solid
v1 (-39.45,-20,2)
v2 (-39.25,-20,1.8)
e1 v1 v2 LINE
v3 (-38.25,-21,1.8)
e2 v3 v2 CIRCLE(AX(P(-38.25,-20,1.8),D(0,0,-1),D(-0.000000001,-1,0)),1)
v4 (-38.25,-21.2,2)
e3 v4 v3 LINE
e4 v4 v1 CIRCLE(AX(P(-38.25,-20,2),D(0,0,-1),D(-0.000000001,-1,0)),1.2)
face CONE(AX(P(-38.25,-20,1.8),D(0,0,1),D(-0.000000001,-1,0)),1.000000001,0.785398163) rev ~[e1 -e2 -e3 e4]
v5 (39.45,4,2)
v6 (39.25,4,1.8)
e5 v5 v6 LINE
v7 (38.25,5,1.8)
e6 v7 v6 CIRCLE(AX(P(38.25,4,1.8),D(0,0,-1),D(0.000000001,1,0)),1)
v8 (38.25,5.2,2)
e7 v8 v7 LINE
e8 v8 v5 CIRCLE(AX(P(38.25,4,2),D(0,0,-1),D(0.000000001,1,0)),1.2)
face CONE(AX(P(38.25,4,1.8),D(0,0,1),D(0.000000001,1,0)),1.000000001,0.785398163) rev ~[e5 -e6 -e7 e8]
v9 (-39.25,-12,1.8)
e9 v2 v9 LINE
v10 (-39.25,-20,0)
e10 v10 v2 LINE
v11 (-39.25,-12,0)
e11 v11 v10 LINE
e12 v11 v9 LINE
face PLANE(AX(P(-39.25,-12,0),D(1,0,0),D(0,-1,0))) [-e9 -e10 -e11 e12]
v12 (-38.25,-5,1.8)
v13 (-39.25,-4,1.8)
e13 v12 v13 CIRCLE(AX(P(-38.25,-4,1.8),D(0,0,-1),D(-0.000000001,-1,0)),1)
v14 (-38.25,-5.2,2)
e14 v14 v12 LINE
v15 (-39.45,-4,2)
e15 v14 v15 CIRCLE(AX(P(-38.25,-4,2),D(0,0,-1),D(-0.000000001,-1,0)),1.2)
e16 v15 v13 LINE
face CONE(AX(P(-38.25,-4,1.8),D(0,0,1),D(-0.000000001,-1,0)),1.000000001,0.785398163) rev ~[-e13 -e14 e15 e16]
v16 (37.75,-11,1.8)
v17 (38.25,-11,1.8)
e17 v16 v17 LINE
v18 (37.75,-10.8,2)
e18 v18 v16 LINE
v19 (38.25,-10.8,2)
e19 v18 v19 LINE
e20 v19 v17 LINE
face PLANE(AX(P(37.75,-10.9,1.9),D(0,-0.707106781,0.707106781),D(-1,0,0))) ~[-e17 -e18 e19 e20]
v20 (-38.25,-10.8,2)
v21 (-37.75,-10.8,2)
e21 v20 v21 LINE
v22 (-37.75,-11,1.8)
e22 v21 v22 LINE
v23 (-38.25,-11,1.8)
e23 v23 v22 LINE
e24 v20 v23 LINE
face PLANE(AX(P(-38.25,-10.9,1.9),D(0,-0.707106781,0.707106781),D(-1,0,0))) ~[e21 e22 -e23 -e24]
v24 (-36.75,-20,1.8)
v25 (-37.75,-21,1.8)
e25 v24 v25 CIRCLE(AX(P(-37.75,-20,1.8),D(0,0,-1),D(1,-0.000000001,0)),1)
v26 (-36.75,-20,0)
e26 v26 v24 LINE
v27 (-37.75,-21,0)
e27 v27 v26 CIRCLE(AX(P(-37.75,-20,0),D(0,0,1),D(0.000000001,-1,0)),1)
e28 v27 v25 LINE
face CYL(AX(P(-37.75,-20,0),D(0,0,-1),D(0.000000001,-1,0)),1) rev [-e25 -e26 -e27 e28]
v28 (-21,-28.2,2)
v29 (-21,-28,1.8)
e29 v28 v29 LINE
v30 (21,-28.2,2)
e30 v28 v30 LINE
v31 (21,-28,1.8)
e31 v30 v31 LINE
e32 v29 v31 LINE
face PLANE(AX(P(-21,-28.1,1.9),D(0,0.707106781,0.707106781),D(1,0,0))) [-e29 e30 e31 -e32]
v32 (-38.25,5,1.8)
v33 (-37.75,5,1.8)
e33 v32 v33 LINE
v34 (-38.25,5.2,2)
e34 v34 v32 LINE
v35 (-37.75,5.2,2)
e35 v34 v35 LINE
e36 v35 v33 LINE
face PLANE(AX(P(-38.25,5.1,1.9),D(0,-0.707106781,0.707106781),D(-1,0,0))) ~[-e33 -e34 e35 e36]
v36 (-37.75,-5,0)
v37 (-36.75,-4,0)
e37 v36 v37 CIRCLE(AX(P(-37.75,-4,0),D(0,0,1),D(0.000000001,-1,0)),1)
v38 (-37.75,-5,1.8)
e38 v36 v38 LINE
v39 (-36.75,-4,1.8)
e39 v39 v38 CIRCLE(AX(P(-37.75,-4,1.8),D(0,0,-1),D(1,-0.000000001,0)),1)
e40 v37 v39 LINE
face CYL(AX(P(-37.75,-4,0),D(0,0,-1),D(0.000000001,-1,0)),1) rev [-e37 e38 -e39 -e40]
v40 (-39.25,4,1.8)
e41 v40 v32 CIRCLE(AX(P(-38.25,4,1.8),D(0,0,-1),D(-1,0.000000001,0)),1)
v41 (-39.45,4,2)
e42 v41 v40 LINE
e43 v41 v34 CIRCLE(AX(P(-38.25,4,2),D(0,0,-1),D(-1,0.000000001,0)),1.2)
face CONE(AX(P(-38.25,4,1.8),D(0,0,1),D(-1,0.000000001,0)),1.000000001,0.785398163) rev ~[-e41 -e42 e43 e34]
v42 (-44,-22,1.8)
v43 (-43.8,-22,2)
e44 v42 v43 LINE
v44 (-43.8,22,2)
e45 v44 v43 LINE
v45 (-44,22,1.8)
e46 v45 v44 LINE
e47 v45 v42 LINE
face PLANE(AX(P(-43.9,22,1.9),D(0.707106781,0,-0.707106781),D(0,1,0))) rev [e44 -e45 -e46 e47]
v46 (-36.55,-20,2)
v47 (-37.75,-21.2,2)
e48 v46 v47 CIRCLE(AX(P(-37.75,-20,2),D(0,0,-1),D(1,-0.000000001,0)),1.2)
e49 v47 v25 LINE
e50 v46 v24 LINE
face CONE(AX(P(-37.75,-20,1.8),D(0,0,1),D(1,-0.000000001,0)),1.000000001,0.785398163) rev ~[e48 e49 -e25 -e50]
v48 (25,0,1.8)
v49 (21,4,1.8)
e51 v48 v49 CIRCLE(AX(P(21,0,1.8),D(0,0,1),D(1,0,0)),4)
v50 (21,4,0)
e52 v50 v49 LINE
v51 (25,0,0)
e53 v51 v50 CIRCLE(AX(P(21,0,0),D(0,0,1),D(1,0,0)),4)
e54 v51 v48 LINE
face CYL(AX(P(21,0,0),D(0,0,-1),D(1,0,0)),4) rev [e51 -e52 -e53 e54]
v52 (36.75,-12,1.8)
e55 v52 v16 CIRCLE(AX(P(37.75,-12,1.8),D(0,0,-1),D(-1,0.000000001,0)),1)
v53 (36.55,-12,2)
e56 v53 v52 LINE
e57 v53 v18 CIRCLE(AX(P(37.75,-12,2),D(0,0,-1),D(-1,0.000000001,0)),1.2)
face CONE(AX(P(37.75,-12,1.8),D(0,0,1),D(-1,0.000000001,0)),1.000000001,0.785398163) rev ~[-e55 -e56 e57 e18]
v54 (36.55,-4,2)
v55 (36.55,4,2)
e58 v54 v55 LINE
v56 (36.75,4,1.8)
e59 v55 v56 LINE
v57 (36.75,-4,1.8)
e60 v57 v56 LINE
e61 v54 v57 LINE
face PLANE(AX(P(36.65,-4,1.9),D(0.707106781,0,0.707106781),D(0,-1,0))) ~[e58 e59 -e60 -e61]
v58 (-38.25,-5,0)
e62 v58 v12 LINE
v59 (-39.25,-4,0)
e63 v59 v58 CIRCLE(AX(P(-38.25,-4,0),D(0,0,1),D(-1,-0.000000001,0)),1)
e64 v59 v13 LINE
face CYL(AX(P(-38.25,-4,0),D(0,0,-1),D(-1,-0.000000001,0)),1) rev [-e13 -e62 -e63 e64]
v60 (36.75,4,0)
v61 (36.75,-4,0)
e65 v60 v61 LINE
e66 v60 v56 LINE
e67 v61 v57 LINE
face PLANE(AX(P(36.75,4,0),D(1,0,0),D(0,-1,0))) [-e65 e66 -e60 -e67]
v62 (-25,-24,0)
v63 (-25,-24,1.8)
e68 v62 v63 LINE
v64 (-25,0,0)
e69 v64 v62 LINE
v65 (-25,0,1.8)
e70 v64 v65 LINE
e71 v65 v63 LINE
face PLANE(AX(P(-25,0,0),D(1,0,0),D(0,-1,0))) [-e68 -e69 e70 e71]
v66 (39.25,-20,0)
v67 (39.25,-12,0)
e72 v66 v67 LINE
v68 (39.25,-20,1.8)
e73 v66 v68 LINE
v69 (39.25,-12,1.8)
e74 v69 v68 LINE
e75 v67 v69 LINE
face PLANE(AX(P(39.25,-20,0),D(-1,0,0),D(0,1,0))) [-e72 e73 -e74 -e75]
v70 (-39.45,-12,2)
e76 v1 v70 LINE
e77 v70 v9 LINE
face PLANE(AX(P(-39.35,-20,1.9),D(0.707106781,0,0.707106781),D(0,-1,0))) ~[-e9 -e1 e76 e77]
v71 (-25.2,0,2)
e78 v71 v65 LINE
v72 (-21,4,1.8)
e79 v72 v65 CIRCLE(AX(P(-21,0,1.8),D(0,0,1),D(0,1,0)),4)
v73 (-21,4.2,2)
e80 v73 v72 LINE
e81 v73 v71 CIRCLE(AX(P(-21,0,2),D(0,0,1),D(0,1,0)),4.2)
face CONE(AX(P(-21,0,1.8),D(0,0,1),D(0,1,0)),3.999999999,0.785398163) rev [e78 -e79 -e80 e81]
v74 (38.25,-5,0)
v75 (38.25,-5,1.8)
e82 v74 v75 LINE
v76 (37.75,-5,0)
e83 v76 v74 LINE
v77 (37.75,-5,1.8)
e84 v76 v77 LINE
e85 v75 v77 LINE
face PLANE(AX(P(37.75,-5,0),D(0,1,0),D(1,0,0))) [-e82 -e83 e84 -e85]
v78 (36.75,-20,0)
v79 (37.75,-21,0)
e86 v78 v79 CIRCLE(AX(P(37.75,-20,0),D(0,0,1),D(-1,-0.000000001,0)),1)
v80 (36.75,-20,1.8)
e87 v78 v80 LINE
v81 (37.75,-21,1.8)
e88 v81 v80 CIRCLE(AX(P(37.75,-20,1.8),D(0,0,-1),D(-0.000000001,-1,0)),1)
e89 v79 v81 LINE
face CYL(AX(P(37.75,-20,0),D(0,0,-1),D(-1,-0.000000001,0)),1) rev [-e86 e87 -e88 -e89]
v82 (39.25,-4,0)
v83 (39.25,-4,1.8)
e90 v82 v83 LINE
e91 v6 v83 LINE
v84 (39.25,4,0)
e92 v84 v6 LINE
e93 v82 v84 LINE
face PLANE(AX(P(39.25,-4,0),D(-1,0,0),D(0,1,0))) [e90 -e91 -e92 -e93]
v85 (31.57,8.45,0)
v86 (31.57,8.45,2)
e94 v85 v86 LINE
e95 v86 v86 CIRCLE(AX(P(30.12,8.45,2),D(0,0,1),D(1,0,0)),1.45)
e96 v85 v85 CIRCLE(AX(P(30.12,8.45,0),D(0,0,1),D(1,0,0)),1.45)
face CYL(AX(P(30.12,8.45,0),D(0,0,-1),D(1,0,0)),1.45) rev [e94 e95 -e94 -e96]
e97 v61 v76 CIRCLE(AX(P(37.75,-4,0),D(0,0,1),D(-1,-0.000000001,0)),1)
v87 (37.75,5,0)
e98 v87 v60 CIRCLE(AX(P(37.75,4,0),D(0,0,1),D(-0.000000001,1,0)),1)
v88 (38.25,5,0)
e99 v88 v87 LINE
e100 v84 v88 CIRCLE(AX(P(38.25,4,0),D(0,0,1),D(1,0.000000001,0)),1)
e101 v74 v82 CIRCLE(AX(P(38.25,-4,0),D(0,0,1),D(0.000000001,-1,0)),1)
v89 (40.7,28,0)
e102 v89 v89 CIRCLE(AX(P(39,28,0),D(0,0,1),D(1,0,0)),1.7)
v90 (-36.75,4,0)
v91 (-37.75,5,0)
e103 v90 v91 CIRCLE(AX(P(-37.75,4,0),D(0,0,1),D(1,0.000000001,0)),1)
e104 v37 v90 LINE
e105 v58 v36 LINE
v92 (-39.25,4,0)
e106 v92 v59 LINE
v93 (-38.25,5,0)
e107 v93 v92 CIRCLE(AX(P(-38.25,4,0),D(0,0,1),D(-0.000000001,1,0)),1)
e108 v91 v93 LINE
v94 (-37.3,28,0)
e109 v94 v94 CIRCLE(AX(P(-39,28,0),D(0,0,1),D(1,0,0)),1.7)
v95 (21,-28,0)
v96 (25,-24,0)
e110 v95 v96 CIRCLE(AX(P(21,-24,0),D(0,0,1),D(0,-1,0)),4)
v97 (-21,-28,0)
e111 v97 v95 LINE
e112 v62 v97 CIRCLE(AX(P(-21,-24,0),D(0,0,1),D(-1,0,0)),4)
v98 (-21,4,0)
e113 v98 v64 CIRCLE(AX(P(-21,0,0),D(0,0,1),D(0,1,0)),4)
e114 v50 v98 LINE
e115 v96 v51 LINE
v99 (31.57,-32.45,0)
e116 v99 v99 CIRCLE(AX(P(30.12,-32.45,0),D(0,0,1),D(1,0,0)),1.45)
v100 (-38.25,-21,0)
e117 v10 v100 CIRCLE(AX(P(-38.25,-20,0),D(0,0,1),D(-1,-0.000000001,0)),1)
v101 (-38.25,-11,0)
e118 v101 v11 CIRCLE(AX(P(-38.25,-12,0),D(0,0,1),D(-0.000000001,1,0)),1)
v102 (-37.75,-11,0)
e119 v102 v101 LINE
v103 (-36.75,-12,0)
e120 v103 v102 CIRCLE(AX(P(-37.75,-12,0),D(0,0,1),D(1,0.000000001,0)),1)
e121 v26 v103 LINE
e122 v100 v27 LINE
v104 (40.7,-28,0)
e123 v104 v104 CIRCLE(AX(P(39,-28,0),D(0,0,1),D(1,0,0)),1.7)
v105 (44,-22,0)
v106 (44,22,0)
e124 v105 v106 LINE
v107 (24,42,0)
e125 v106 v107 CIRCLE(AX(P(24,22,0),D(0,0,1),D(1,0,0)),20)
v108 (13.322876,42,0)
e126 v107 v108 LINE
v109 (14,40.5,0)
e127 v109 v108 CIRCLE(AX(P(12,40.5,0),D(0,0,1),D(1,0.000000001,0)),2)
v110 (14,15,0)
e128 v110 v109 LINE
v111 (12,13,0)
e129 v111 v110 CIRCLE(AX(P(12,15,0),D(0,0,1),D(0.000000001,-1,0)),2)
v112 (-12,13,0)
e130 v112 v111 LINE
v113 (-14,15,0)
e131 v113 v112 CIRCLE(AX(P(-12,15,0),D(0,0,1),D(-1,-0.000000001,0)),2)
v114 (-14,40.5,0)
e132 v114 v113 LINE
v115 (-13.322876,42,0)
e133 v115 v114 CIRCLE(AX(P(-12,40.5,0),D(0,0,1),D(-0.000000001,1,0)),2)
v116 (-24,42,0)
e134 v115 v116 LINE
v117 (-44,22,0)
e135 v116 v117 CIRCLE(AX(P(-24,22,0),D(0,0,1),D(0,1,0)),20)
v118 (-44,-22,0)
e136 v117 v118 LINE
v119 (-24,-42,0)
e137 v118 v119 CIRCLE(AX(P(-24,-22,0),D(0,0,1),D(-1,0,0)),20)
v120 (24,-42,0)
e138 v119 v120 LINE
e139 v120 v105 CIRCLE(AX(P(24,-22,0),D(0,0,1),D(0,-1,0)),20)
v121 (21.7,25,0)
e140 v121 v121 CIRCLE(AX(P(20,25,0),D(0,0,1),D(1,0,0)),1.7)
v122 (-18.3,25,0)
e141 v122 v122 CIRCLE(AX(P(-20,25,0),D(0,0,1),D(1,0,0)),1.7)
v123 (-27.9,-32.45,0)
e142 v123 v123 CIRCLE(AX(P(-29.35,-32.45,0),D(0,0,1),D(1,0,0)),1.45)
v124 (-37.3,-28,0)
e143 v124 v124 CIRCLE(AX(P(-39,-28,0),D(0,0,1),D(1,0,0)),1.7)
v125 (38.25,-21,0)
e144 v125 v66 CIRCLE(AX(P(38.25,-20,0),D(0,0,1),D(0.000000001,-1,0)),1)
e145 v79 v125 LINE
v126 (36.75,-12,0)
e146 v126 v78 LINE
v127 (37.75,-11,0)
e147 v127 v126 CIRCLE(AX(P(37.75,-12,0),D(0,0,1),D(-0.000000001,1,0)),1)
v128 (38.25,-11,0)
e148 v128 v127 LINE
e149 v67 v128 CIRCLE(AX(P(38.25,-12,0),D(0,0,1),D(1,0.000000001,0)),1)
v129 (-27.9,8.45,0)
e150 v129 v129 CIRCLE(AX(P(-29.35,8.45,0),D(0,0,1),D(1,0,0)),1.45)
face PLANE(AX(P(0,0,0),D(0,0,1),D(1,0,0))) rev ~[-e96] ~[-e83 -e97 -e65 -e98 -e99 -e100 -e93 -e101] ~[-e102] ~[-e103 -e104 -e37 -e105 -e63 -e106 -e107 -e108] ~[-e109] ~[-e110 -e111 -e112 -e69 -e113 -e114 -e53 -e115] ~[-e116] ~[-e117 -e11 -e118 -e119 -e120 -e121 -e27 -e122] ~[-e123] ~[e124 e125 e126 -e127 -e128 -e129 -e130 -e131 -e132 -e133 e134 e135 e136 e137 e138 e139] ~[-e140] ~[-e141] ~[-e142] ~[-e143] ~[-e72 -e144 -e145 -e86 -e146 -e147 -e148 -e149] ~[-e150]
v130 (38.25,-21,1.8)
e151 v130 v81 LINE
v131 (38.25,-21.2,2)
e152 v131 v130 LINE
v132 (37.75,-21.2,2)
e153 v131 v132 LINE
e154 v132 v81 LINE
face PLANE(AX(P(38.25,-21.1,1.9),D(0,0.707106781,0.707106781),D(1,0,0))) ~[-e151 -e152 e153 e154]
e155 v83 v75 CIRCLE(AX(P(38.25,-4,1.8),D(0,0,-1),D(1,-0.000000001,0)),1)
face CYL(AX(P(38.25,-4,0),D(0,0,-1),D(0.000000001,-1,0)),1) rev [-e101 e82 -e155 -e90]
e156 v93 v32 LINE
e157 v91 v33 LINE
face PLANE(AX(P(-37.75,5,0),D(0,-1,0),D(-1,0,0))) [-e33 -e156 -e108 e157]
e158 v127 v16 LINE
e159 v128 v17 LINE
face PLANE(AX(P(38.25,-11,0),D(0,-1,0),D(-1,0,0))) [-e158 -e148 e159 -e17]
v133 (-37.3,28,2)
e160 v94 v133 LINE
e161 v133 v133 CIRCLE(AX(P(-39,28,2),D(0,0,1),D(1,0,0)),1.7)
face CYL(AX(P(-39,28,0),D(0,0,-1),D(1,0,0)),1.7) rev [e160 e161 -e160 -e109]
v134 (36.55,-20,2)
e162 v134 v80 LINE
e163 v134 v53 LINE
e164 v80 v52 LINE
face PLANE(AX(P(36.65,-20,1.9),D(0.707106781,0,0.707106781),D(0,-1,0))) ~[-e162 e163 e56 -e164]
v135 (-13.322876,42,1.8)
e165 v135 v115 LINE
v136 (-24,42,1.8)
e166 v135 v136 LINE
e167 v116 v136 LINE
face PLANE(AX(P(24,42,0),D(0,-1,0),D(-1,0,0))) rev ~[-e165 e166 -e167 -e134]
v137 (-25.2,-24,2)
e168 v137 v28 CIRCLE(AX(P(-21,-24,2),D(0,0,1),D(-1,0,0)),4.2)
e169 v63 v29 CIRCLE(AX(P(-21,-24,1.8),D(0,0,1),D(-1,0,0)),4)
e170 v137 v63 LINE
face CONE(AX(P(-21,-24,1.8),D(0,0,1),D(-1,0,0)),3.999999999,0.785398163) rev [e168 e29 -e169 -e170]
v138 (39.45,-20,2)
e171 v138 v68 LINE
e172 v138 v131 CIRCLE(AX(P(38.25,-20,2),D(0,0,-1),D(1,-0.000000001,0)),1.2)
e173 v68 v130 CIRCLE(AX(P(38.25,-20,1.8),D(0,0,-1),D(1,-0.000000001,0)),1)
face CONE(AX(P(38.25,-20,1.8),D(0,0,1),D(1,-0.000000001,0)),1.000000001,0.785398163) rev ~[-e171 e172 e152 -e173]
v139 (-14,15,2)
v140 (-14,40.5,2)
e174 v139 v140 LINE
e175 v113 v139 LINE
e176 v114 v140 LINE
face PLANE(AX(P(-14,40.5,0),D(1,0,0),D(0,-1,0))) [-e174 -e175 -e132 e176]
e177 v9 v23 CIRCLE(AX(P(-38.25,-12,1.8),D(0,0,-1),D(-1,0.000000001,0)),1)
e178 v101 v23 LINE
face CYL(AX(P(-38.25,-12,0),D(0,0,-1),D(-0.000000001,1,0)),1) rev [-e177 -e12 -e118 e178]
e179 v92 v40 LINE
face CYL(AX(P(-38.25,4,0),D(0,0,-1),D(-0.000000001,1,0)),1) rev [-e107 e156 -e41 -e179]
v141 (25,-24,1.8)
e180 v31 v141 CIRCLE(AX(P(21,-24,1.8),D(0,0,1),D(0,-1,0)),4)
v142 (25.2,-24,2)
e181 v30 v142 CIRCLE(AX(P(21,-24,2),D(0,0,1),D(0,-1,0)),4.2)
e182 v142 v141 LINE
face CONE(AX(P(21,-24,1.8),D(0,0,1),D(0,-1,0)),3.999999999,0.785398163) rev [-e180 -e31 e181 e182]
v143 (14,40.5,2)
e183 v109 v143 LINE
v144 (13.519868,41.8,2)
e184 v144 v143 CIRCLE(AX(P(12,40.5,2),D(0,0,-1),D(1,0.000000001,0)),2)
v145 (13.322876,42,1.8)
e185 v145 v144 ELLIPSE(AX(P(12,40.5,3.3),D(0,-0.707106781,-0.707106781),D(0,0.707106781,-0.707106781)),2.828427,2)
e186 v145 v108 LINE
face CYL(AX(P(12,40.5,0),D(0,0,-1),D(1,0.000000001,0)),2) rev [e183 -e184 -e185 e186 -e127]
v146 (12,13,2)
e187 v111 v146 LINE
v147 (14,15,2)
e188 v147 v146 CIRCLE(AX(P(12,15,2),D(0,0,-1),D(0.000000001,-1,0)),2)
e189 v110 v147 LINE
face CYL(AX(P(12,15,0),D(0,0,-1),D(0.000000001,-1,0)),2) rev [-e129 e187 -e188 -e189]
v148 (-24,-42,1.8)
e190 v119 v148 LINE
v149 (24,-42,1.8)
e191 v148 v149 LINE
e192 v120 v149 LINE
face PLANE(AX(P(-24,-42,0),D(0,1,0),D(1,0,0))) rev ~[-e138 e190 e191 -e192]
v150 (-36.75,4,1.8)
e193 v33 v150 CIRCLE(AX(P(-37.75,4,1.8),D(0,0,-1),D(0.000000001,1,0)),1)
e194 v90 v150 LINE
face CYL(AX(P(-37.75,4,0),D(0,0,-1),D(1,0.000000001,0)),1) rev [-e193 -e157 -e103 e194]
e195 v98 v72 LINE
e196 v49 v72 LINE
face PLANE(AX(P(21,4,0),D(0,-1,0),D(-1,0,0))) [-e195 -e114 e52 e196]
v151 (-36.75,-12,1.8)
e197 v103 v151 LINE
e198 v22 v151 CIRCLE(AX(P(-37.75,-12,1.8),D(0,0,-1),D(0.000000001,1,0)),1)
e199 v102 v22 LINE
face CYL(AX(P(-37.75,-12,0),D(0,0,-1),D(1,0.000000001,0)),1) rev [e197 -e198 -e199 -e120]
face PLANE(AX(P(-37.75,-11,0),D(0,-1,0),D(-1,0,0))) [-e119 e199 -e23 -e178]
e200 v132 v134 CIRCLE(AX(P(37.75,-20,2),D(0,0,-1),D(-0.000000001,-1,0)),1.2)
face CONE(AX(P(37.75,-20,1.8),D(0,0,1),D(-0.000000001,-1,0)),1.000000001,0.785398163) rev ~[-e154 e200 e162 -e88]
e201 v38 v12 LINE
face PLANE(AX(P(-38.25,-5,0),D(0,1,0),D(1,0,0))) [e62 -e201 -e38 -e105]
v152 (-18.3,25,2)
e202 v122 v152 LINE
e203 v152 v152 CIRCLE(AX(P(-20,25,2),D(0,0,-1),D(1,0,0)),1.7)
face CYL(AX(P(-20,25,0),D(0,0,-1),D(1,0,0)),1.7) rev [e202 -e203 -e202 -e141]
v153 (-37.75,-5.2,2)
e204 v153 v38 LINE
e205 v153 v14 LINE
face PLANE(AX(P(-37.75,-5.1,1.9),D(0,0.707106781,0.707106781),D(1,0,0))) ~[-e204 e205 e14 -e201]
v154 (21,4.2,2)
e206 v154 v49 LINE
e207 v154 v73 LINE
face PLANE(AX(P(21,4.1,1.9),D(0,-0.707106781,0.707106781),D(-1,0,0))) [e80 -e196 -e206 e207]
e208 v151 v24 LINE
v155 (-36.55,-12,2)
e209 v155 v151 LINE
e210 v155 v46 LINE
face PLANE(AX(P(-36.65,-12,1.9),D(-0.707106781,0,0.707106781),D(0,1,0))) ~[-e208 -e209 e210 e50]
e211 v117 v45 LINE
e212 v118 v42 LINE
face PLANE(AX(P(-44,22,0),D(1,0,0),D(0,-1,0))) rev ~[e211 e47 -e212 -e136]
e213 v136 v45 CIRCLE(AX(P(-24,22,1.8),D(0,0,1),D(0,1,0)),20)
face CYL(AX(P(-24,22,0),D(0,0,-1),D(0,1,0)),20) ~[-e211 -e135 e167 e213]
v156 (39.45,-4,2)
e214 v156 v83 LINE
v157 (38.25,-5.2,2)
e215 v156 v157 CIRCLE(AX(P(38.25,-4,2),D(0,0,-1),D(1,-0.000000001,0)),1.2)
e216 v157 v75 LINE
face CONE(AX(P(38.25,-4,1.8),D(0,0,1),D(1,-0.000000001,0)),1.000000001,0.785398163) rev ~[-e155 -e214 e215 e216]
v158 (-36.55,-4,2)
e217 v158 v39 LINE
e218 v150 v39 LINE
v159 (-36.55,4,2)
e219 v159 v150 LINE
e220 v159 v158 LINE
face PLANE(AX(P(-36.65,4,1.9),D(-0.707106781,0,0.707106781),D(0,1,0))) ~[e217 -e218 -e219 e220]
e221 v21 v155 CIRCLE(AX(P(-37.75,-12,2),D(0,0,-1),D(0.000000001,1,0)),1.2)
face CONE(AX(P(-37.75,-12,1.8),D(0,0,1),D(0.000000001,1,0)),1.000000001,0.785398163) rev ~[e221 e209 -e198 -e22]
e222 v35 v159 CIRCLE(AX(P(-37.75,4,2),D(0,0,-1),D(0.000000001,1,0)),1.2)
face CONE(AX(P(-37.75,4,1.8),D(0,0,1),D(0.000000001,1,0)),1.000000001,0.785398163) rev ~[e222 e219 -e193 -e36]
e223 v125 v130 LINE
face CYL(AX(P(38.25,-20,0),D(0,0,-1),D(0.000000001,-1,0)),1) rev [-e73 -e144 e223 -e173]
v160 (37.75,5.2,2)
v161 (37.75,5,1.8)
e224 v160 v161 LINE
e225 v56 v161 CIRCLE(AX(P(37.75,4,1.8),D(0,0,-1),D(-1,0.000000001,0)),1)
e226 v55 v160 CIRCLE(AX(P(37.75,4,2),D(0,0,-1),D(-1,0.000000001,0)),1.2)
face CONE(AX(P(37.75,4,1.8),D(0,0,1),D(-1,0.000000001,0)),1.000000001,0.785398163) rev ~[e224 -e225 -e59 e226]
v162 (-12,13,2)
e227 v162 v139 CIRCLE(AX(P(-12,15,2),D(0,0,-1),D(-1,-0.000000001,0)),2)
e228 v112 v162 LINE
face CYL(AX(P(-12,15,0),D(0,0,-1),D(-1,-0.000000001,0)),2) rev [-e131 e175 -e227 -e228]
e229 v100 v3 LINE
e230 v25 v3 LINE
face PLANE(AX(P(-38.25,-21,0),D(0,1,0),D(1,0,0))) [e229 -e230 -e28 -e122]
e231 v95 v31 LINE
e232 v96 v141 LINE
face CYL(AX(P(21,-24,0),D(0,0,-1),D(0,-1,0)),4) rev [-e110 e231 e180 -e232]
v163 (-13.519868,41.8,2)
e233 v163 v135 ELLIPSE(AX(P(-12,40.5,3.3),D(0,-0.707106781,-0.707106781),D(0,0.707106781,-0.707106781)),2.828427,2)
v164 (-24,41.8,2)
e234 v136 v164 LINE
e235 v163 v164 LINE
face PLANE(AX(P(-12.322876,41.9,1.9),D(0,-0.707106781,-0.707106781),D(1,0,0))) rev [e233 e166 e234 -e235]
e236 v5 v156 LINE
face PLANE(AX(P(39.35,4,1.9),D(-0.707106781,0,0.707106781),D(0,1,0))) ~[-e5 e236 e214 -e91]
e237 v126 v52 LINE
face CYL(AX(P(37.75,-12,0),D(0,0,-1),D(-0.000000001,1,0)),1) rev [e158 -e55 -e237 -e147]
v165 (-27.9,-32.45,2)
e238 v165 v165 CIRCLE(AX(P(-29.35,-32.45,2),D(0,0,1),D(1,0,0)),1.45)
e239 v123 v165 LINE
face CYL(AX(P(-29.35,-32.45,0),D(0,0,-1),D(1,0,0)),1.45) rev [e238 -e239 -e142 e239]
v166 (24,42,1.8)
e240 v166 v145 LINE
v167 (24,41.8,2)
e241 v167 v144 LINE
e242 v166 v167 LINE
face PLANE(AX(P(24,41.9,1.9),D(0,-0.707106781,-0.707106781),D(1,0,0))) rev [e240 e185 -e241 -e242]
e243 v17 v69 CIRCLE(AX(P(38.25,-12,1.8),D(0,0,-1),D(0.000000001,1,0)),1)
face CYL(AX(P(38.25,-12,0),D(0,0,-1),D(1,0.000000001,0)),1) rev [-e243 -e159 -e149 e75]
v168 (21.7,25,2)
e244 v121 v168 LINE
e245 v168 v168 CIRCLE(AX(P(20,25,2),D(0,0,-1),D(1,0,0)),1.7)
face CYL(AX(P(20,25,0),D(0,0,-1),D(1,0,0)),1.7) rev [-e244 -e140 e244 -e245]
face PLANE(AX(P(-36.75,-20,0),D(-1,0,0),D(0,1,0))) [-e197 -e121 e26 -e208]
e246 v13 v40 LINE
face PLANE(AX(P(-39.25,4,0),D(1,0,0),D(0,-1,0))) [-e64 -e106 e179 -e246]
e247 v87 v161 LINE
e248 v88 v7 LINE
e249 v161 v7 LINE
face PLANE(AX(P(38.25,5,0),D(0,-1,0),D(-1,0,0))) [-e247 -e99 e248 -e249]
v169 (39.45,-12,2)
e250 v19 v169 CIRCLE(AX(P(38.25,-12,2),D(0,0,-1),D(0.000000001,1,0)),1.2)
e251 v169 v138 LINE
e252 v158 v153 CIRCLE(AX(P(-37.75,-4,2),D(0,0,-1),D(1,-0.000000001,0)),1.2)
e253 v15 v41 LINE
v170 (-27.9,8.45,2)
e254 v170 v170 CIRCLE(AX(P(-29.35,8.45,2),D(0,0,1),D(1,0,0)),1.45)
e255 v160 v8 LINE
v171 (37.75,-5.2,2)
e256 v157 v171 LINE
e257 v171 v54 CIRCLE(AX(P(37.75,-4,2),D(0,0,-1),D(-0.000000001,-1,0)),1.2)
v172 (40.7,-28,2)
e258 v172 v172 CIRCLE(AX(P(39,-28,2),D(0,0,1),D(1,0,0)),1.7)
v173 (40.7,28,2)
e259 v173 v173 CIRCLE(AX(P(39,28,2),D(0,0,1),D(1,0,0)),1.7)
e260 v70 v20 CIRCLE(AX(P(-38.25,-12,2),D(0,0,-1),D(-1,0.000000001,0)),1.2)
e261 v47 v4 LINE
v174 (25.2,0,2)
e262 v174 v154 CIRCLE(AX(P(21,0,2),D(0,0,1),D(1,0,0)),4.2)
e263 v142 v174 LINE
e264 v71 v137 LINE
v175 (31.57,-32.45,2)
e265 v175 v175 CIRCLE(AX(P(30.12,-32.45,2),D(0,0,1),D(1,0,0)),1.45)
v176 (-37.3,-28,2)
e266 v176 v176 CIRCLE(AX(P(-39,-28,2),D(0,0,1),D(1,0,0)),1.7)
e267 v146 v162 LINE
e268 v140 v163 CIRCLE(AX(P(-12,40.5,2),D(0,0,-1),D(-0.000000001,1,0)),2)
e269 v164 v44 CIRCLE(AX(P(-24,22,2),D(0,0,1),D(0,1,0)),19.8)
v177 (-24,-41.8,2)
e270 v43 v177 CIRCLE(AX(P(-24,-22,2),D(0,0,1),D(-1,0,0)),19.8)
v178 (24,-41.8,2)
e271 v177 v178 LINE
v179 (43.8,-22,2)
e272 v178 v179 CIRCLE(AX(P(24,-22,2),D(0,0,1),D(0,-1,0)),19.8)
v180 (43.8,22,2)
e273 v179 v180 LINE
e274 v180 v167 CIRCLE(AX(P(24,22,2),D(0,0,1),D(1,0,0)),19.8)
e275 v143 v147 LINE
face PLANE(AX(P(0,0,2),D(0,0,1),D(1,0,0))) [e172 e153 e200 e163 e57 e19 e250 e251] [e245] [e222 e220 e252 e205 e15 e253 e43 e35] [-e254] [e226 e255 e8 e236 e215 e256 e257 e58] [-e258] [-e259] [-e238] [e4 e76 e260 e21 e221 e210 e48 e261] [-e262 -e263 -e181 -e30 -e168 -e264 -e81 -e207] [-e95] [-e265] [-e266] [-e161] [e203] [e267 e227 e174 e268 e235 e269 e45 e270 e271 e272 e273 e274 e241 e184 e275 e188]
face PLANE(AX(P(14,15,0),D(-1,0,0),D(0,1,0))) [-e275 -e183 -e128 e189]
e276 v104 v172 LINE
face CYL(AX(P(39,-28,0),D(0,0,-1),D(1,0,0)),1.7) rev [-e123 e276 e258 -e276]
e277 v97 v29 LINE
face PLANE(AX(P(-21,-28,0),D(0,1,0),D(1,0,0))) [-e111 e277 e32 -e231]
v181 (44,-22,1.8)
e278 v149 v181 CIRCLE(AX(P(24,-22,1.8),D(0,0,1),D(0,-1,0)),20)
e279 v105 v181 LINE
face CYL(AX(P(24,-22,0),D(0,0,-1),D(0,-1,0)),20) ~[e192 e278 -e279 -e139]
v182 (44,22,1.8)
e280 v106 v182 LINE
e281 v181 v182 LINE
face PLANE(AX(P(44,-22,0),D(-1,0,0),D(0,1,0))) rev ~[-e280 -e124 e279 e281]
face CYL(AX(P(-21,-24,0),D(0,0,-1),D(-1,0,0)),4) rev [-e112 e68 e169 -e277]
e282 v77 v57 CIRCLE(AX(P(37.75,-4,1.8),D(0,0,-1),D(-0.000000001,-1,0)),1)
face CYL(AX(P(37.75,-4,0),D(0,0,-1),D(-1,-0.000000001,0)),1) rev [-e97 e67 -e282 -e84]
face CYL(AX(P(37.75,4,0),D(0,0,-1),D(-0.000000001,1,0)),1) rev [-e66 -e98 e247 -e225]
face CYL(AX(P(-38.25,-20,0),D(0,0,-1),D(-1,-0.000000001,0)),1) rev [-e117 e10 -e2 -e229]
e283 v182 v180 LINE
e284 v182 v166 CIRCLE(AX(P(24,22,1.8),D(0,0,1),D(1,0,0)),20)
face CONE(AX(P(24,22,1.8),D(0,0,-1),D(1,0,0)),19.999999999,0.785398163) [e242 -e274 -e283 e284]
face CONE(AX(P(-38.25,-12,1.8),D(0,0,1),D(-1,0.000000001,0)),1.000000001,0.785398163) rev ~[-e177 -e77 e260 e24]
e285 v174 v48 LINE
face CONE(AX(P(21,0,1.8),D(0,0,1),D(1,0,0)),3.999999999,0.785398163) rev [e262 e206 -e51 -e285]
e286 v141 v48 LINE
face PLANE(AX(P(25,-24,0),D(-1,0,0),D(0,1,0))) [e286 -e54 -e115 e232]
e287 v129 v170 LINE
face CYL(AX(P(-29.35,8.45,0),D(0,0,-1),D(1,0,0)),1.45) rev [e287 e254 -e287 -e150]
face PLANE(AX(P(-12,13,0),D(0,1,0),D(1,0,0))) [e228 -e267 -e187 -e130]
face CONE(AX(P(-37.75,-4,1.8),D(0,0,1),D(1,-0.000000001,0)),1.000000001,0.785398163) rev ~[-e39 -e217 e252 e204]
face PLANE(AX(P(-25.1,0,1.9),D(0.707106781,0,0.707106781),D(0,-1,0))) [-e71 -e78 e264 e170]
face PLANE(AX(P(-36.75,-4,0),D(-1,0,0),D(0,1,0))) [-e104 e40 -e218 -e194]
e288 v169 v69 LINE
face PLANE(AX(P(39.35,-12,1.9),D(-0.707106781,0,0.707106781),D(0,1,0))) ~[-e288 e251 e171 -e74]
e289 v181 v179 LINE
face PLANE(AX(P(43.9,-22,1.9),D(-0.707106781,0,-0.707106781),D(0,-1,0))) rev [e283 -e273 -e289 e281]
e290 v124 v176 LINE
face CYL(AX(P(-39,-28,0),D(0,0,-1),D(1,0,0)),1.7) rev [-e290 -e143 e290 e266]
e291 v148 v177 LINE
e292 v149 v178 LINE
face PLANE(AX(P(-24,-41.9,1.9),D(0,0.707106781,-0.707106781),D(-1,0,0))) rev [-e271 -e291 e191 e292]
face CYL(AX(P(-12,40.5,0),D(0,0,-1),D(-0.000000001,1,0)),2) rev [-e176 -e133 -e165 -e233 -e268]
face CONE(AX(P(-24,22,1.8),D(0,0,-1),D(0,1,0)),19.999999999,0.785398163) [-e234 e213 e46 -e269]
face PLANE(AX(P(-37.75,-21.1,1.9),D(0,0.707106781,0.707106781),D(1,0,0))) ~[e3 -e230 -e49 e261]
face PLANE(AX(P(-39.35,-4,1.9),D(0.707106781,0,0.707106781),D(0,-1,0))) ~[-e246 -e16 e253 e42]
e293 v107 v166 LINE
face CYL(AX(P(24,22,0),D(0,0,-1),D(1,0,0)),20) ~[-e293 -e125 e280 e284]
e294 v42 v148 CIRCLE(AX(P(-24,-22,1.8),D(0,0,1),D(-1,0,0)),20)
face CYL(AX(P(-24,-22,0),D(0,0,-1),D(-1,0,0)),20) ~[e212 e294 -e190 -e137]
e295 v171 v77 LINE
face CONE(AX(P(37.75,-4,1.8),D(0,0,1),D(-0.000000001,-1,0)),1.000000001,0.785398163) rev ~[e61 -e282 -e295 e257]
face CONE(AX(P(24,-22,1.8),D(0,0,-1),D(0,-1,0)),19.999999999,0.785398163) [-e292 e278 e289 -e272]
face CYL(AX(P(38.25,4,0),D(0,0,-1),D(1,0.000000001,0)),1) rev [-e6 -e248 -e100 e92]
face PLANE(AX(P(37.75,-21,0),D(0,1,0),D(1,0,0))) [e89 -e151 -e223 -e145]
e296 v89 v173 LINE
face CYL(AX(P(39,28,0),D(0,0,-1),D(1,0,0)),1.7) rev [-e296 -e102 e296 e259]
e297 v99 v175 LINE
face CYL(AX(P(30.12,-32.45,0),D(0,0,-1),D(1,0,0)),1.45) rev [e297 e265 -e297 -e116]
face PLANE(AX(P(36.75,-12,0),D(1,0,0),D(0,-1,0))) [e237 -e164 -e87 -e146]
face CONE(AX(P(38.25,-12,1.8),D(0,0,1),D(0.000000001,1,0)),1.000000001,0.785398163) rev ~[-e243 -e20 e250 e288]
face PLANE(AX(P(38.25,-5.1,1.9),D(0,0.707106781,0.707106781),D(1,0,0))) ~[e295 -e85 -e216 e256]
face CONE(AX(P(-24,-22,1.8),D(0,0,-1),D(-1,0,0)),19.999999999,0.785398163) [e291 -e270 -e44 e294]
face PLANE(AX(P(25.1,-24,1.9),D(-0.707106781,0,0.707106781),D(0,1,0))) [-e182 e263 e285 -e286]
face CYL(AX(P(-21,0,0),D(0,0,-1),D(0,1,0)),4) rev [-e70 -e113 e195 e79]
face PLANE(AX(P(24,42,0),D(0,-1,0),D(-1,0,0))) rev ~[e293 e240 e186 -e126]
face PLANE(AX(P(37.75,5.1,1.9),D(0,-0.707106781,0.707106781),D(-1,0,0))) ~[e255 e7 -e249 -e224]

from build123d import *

# Parameters (mm, degrees)
SKETCH_219_R           = 1.45
SKETCH_219_R_2         = 1.7
EXTRUDE_2_DEPTH        = 2
CUT_EXTRUDE_641_DEPTH  = 61.860496219
CUT_EXTRUDE_1124_DEPTH = 61.860496219
CHAMFER_C0_2_SIZE      = 0.2
CUT_EXTRUDE_2015_DEPTH = 61.860496219
SKETCH_M3_R            = 1.7
CUT_EXTRUDE_2116_DEPTH = 61.860496219


with BuildPart() as part:
    # Sketch 219 → 屏幕承架厚2 (new body)
    with BuildSketch(Plane.XY):
        with BuildLine():
            Line((-24, -42), (24, -42))
            ThreePointArc((24, -42), (38.142135624, -36.142135624), (44, -22))
            Line((44, -22), (44, 22))
            ThreePointArc((44, 22), (38.142135624, 36.142135624), (24, 42))
            Line((24, 42), (-24, 42))
            ThreePointArc((-24, 42), (-38.142135624, 36.142135624), (-44, 22))
            Line((-44, 22), (-44, -22))
            ThreePointArc((-44, -22), (-38.142135624, -36.142135624), (-24, -42))
        make_face()
        with Locations((-29.35, 8.45)):
            Circle(SKETCH_219_R, mode=Mode.SUBTRACT)
        with Locations((-29.35, -32.45)):
            Circle(SKETCH_219_R, mode=Mode.SUBTRACT)
        with Locations((30.12, 8.45)):
            Circle(SKETCH_219_R, mode=Mode.SUBTRACT)
        with Locations((30.12, -32.45)):
            Circle(SKETCH_219_R, mode=Mode.SUBTRACT)
        with Locations((-39, -28)):
            Circle(SKETCH_219_R_2, mode=Mode.SUBTRACT)
        with Locations((-39, 28)):
            Circle(SKETCH_219_R_2, mode=Mode.SUBTRACT)
        with Locations((39, -28)):
            Circle(SKETCH_219_R_2, mode=Mode.SUBTRACT)
        with Locations((39, 28)):
            Circle(SKETCH_219_R_2, mode=Mode.SUBTRACT)
        with BuildLine():
            Line((-21, -28), (21, -28))
            ThreePointArc((21, -28), (23.828427125, -26.828427125), (25, -24))
            Line((25, -24), (25, 0))
            ThreePointArc((25, 0), (23.828427125, 2.828427125), (21, 4))
            Line((21, 4), (-21, 4))
            ThreePointArc((-21, 4), (-23.828427125, 2.828427125), (-25, 0))
            Line((-25, 0), (-25, -24))
            ThreePointArc((-25, -24), (-23.828427125, -26.828427125), (-21, -28))
        make_face(mode=Mode.SUBTRACT)
    extrude(amount=EXTRUDE_2_DEPTH)

    # 摄像板可换安装区26乘25 → Cut-Extrude 641 (cut, through all)
    with BuildSketch(Plane.XY):
        with BuildLine():
            Line((-11, 17.5), (11, 17.5))
            ThreePointArc((11, 17.5), (12.414213562, 18.085786438), (13, 19.5))
            Line((13, 19.5), (13, 40.5))
            ThreePointArc((13, 40.5), (12.414213562, 41.914213562), (11, 42.5))
            Line((11, 42.5), (-11, 42.5))
            ThreePointArc((-11, 42.5), (-12.414213562, 41.914213562), (-13, 40.5))
            Line((-13, 40.5), (-13, 19.5))
            ThreePointArc((-13, 19.5), (-12.414213562, 18.085786438), (-11, 17.5))
        make_face()
    extrude(amount=CUT_EXTRUDE_641_DEPTH, mode=Mode.SUBTRACT)

    # Sketch 697 → Cut-Extrude 1124 (cut, through all)
    with BuildSketch(Plane.XY):
        with BuildLine():
            Line((-38.25, -21), (-37.75, -21))
            ThreePointArc((-37.75, -21), (-37.042893219, -20.707106781), (-36.75, -20))
            Line((-36.75, -20), (-36.75, -12))
            ThreePointArc((-36.75, -12), (-37.042893219, -11.292893219), (-37.75, -11))
            Line((-37.75, -11), (-38.25, -11))
            ThreePointArc((-38.25, -11), (-38.957106781, -11.292893219), (-39.25, -12))
            Line((-39.25, -12), (-39.25, -20))
            ThreePointArc((-39.25, -20), (-38.957106781, -20.707106781), (-38.25, -21))
        make_face()
        with BuildLine():
            Line((-38.25, -5), (-37.75, -5))
            ThreePointArc((-37.75, -5), (-37.042893219, -4.707106781), (-36.75, -4))
            Line((-36.75, -4), (-36.75, 4))
            ThreePointArc((-36.75, 4), (-37.042893219, 4.707106781), (-37.75, 5))
            Line((-37.75, 5), (-38.25, 5))
            ThreePointArc((-38.25, 5), (-38.957106781, 4.707106781), (-39.25, 4))
            Line((-39.25, 4), (-39.25, -4))
            ThreePointArc((-39.25, -4), (-38.957106781, -4.707106781), (-38.25, -5))
        make_face()
        with BuildLine():
            Line((37.75, -21), (38.25, -21))
            ThreePointArc((38.25, -21), (38.957106781, -20.707106781), (39.25, -20))
            Line((39.25, -20), (39.25, -12))
            ThreePointArc((39.25, -12), (38.957106781, -11.292893219), (38.25, -11))
            Line((38.25, -11), (37.75, -11))
            ThreePointArc((37.75, -11), (37.042893219, -11.292893219), (36.75, -12))
            Line((36.75, -12), (36.75, -20))
            ThreePointArc((36.75, -20), (37.042893219, -20.707106781), (37.75, -21))
        make_face()
        with BuildLine():
            Line((37.75, -5), (38.25, -5))
            ThreePointArc((38.25, -5), (38.957106781, -4.707106781), (39.25, -4))
            Line((39.25, -4), (39.25, 4))
            ThreePointArc((39.25, 4), (38.957106781, 4.707106781), (38.25, 5))
            Line((38.25, 5), (37.75, 5))
            ThreePointArc((37.75, 5), (37.042893219, 4.707106781), (36.75, 4))
            Line((36.75, 4), (36.75, -4))
            ThreePointArc((36.75, -4), (37.042893219, -4.707106781), (37.75, -5))
        make_face()
    extrude(amount=CUT_EXTRUDE_1124_DEPTH, mode=Mode.SUBTRACT)

    # 非功能外缘倒角_C0.2
    chamfer_c0_2_edges = [part.edges().sort_by_distance(p)[0] for p in [
        (38.142135624, -36.142135624, 2),
        (-38.957106781, -4.707106781, 2),
        (-38, -5, 2),
        (-37.042893219, -4.707106781, 2),
        (-36.75, 0, 2),
        (-37.042893219, 4.707106781, 2),
        (-38, 5, 2),
        (-38.957106781, 4.707106781, 2),
        (-39.25, 0, 2),
        (37.042893219, -20.707106781, 2),
        (38, -21, 2),
        (38.957106781, -20.707106781, 2),
        (39.25, -16, 2),
        (38.957106781, -11.292893219, 2),
        (38, -11, 2),
        (37.042893219, -11.292893219, 2),
        (36.75, -16, 2),
        (44, 0, 2),
        (37.042893219, -4.707106781, 2),
        (38, -5, 2),
        (38.957106781, -4.707106781, 2),
        (39.25, 0, 2),
        (38.957106781, 4.707106781, 2),
        (38, 5, 2),
        (37.042893219, 4.707106781, 2),
        (36.75, 0, 2),
        (-38.957106781, -20.707106781, 2),
        (-38, -21, 2),
        (-37.042893219, -20.707106781, 2),
        (-36.75, -16, 2),
        (-37.042893219, -11.292893219, 2),
        (-38, -11, 2),
        (-38.957106781, -11.292893219, 2),
        (-39.25, -16, 2),
        (38.142135624, 36.142135624, 2),
        (18.161437828, 42, 2),
        (-38.142135624, 36.142135624, 2),
        (-23.828427125, -26.828427125, 2),
        (0, -28, 2),
        (23.828427125, -26.828427125, 2),
        (25, -12, 2),
        (23.828427125, 2.828427125, 2),
        (0, 4, 2),
        (-23.828427125, 2.828427125, 2),
        (-44, 0, 2),
        (-25, -12, 2),
        (-38.142135624, -36.142135624, 2),
        (-18.161437828, 42, 2),
        (0, -42, 2),
        (12.822875656, 41.322875656, 2),
        (-12.822875656, 41.322875656, 2),
        (-13, 30, 2),
        (-12.414213562, 18.085786438, 2),
        (0, 17.5, 2),
        (12.414213562, 18.085786438, 2),
        (13, 30, 2),
    ]]
    chamfer(chamfer_c0_2_edges, length=CHAMFER_C0_2_SIZE)

    # 相机螺母与后插座避空28乘29_5 → Cut-Extrude 2015 (cut, through all)
    with BuildSketch(Plane.XY):
        with BuildLine():
            Line((-12, 13), (12, 13))
            ThreePointArc((12, 13), (13.414213562, 13.585786438), (14, 15))
            Line((14, 15), (14, 40.5))
            ThreePointArc((14, 40.5), (13.414213562, 41.914213562), (12, 42.5))
            Line((12, 42.5), (-12, 42.5))
            ThreePointArc((-12, 42.5), (-13.414213562, 41.914213562), (-14, 40.5))
            Line((-14, 40.5), (-14, 15))
            ThreePointArc((-14, 15), (-13.414213562, 13.585786438), (-12, 13))
        make_face()
    extrude(amount=CUT_EXTRUDE_2015_DEPTH, mode=Mode.SUBTRACT)

    # 相机托架双M3连接孔 → Cut-Extrude 2116 (cut, through all)
    with BuildSketch(Plane.XY):
        with Locations((-20, 25)):
            Circle(SKETCH_M3_R)
        with Locations((20, 25)):
            Circle(SKETCH_M3_R)
    extrude(amount=CUT_EXTRUDE_2116_DEPTH, mode=Mode.SUBTRACT)


solid = part.part
